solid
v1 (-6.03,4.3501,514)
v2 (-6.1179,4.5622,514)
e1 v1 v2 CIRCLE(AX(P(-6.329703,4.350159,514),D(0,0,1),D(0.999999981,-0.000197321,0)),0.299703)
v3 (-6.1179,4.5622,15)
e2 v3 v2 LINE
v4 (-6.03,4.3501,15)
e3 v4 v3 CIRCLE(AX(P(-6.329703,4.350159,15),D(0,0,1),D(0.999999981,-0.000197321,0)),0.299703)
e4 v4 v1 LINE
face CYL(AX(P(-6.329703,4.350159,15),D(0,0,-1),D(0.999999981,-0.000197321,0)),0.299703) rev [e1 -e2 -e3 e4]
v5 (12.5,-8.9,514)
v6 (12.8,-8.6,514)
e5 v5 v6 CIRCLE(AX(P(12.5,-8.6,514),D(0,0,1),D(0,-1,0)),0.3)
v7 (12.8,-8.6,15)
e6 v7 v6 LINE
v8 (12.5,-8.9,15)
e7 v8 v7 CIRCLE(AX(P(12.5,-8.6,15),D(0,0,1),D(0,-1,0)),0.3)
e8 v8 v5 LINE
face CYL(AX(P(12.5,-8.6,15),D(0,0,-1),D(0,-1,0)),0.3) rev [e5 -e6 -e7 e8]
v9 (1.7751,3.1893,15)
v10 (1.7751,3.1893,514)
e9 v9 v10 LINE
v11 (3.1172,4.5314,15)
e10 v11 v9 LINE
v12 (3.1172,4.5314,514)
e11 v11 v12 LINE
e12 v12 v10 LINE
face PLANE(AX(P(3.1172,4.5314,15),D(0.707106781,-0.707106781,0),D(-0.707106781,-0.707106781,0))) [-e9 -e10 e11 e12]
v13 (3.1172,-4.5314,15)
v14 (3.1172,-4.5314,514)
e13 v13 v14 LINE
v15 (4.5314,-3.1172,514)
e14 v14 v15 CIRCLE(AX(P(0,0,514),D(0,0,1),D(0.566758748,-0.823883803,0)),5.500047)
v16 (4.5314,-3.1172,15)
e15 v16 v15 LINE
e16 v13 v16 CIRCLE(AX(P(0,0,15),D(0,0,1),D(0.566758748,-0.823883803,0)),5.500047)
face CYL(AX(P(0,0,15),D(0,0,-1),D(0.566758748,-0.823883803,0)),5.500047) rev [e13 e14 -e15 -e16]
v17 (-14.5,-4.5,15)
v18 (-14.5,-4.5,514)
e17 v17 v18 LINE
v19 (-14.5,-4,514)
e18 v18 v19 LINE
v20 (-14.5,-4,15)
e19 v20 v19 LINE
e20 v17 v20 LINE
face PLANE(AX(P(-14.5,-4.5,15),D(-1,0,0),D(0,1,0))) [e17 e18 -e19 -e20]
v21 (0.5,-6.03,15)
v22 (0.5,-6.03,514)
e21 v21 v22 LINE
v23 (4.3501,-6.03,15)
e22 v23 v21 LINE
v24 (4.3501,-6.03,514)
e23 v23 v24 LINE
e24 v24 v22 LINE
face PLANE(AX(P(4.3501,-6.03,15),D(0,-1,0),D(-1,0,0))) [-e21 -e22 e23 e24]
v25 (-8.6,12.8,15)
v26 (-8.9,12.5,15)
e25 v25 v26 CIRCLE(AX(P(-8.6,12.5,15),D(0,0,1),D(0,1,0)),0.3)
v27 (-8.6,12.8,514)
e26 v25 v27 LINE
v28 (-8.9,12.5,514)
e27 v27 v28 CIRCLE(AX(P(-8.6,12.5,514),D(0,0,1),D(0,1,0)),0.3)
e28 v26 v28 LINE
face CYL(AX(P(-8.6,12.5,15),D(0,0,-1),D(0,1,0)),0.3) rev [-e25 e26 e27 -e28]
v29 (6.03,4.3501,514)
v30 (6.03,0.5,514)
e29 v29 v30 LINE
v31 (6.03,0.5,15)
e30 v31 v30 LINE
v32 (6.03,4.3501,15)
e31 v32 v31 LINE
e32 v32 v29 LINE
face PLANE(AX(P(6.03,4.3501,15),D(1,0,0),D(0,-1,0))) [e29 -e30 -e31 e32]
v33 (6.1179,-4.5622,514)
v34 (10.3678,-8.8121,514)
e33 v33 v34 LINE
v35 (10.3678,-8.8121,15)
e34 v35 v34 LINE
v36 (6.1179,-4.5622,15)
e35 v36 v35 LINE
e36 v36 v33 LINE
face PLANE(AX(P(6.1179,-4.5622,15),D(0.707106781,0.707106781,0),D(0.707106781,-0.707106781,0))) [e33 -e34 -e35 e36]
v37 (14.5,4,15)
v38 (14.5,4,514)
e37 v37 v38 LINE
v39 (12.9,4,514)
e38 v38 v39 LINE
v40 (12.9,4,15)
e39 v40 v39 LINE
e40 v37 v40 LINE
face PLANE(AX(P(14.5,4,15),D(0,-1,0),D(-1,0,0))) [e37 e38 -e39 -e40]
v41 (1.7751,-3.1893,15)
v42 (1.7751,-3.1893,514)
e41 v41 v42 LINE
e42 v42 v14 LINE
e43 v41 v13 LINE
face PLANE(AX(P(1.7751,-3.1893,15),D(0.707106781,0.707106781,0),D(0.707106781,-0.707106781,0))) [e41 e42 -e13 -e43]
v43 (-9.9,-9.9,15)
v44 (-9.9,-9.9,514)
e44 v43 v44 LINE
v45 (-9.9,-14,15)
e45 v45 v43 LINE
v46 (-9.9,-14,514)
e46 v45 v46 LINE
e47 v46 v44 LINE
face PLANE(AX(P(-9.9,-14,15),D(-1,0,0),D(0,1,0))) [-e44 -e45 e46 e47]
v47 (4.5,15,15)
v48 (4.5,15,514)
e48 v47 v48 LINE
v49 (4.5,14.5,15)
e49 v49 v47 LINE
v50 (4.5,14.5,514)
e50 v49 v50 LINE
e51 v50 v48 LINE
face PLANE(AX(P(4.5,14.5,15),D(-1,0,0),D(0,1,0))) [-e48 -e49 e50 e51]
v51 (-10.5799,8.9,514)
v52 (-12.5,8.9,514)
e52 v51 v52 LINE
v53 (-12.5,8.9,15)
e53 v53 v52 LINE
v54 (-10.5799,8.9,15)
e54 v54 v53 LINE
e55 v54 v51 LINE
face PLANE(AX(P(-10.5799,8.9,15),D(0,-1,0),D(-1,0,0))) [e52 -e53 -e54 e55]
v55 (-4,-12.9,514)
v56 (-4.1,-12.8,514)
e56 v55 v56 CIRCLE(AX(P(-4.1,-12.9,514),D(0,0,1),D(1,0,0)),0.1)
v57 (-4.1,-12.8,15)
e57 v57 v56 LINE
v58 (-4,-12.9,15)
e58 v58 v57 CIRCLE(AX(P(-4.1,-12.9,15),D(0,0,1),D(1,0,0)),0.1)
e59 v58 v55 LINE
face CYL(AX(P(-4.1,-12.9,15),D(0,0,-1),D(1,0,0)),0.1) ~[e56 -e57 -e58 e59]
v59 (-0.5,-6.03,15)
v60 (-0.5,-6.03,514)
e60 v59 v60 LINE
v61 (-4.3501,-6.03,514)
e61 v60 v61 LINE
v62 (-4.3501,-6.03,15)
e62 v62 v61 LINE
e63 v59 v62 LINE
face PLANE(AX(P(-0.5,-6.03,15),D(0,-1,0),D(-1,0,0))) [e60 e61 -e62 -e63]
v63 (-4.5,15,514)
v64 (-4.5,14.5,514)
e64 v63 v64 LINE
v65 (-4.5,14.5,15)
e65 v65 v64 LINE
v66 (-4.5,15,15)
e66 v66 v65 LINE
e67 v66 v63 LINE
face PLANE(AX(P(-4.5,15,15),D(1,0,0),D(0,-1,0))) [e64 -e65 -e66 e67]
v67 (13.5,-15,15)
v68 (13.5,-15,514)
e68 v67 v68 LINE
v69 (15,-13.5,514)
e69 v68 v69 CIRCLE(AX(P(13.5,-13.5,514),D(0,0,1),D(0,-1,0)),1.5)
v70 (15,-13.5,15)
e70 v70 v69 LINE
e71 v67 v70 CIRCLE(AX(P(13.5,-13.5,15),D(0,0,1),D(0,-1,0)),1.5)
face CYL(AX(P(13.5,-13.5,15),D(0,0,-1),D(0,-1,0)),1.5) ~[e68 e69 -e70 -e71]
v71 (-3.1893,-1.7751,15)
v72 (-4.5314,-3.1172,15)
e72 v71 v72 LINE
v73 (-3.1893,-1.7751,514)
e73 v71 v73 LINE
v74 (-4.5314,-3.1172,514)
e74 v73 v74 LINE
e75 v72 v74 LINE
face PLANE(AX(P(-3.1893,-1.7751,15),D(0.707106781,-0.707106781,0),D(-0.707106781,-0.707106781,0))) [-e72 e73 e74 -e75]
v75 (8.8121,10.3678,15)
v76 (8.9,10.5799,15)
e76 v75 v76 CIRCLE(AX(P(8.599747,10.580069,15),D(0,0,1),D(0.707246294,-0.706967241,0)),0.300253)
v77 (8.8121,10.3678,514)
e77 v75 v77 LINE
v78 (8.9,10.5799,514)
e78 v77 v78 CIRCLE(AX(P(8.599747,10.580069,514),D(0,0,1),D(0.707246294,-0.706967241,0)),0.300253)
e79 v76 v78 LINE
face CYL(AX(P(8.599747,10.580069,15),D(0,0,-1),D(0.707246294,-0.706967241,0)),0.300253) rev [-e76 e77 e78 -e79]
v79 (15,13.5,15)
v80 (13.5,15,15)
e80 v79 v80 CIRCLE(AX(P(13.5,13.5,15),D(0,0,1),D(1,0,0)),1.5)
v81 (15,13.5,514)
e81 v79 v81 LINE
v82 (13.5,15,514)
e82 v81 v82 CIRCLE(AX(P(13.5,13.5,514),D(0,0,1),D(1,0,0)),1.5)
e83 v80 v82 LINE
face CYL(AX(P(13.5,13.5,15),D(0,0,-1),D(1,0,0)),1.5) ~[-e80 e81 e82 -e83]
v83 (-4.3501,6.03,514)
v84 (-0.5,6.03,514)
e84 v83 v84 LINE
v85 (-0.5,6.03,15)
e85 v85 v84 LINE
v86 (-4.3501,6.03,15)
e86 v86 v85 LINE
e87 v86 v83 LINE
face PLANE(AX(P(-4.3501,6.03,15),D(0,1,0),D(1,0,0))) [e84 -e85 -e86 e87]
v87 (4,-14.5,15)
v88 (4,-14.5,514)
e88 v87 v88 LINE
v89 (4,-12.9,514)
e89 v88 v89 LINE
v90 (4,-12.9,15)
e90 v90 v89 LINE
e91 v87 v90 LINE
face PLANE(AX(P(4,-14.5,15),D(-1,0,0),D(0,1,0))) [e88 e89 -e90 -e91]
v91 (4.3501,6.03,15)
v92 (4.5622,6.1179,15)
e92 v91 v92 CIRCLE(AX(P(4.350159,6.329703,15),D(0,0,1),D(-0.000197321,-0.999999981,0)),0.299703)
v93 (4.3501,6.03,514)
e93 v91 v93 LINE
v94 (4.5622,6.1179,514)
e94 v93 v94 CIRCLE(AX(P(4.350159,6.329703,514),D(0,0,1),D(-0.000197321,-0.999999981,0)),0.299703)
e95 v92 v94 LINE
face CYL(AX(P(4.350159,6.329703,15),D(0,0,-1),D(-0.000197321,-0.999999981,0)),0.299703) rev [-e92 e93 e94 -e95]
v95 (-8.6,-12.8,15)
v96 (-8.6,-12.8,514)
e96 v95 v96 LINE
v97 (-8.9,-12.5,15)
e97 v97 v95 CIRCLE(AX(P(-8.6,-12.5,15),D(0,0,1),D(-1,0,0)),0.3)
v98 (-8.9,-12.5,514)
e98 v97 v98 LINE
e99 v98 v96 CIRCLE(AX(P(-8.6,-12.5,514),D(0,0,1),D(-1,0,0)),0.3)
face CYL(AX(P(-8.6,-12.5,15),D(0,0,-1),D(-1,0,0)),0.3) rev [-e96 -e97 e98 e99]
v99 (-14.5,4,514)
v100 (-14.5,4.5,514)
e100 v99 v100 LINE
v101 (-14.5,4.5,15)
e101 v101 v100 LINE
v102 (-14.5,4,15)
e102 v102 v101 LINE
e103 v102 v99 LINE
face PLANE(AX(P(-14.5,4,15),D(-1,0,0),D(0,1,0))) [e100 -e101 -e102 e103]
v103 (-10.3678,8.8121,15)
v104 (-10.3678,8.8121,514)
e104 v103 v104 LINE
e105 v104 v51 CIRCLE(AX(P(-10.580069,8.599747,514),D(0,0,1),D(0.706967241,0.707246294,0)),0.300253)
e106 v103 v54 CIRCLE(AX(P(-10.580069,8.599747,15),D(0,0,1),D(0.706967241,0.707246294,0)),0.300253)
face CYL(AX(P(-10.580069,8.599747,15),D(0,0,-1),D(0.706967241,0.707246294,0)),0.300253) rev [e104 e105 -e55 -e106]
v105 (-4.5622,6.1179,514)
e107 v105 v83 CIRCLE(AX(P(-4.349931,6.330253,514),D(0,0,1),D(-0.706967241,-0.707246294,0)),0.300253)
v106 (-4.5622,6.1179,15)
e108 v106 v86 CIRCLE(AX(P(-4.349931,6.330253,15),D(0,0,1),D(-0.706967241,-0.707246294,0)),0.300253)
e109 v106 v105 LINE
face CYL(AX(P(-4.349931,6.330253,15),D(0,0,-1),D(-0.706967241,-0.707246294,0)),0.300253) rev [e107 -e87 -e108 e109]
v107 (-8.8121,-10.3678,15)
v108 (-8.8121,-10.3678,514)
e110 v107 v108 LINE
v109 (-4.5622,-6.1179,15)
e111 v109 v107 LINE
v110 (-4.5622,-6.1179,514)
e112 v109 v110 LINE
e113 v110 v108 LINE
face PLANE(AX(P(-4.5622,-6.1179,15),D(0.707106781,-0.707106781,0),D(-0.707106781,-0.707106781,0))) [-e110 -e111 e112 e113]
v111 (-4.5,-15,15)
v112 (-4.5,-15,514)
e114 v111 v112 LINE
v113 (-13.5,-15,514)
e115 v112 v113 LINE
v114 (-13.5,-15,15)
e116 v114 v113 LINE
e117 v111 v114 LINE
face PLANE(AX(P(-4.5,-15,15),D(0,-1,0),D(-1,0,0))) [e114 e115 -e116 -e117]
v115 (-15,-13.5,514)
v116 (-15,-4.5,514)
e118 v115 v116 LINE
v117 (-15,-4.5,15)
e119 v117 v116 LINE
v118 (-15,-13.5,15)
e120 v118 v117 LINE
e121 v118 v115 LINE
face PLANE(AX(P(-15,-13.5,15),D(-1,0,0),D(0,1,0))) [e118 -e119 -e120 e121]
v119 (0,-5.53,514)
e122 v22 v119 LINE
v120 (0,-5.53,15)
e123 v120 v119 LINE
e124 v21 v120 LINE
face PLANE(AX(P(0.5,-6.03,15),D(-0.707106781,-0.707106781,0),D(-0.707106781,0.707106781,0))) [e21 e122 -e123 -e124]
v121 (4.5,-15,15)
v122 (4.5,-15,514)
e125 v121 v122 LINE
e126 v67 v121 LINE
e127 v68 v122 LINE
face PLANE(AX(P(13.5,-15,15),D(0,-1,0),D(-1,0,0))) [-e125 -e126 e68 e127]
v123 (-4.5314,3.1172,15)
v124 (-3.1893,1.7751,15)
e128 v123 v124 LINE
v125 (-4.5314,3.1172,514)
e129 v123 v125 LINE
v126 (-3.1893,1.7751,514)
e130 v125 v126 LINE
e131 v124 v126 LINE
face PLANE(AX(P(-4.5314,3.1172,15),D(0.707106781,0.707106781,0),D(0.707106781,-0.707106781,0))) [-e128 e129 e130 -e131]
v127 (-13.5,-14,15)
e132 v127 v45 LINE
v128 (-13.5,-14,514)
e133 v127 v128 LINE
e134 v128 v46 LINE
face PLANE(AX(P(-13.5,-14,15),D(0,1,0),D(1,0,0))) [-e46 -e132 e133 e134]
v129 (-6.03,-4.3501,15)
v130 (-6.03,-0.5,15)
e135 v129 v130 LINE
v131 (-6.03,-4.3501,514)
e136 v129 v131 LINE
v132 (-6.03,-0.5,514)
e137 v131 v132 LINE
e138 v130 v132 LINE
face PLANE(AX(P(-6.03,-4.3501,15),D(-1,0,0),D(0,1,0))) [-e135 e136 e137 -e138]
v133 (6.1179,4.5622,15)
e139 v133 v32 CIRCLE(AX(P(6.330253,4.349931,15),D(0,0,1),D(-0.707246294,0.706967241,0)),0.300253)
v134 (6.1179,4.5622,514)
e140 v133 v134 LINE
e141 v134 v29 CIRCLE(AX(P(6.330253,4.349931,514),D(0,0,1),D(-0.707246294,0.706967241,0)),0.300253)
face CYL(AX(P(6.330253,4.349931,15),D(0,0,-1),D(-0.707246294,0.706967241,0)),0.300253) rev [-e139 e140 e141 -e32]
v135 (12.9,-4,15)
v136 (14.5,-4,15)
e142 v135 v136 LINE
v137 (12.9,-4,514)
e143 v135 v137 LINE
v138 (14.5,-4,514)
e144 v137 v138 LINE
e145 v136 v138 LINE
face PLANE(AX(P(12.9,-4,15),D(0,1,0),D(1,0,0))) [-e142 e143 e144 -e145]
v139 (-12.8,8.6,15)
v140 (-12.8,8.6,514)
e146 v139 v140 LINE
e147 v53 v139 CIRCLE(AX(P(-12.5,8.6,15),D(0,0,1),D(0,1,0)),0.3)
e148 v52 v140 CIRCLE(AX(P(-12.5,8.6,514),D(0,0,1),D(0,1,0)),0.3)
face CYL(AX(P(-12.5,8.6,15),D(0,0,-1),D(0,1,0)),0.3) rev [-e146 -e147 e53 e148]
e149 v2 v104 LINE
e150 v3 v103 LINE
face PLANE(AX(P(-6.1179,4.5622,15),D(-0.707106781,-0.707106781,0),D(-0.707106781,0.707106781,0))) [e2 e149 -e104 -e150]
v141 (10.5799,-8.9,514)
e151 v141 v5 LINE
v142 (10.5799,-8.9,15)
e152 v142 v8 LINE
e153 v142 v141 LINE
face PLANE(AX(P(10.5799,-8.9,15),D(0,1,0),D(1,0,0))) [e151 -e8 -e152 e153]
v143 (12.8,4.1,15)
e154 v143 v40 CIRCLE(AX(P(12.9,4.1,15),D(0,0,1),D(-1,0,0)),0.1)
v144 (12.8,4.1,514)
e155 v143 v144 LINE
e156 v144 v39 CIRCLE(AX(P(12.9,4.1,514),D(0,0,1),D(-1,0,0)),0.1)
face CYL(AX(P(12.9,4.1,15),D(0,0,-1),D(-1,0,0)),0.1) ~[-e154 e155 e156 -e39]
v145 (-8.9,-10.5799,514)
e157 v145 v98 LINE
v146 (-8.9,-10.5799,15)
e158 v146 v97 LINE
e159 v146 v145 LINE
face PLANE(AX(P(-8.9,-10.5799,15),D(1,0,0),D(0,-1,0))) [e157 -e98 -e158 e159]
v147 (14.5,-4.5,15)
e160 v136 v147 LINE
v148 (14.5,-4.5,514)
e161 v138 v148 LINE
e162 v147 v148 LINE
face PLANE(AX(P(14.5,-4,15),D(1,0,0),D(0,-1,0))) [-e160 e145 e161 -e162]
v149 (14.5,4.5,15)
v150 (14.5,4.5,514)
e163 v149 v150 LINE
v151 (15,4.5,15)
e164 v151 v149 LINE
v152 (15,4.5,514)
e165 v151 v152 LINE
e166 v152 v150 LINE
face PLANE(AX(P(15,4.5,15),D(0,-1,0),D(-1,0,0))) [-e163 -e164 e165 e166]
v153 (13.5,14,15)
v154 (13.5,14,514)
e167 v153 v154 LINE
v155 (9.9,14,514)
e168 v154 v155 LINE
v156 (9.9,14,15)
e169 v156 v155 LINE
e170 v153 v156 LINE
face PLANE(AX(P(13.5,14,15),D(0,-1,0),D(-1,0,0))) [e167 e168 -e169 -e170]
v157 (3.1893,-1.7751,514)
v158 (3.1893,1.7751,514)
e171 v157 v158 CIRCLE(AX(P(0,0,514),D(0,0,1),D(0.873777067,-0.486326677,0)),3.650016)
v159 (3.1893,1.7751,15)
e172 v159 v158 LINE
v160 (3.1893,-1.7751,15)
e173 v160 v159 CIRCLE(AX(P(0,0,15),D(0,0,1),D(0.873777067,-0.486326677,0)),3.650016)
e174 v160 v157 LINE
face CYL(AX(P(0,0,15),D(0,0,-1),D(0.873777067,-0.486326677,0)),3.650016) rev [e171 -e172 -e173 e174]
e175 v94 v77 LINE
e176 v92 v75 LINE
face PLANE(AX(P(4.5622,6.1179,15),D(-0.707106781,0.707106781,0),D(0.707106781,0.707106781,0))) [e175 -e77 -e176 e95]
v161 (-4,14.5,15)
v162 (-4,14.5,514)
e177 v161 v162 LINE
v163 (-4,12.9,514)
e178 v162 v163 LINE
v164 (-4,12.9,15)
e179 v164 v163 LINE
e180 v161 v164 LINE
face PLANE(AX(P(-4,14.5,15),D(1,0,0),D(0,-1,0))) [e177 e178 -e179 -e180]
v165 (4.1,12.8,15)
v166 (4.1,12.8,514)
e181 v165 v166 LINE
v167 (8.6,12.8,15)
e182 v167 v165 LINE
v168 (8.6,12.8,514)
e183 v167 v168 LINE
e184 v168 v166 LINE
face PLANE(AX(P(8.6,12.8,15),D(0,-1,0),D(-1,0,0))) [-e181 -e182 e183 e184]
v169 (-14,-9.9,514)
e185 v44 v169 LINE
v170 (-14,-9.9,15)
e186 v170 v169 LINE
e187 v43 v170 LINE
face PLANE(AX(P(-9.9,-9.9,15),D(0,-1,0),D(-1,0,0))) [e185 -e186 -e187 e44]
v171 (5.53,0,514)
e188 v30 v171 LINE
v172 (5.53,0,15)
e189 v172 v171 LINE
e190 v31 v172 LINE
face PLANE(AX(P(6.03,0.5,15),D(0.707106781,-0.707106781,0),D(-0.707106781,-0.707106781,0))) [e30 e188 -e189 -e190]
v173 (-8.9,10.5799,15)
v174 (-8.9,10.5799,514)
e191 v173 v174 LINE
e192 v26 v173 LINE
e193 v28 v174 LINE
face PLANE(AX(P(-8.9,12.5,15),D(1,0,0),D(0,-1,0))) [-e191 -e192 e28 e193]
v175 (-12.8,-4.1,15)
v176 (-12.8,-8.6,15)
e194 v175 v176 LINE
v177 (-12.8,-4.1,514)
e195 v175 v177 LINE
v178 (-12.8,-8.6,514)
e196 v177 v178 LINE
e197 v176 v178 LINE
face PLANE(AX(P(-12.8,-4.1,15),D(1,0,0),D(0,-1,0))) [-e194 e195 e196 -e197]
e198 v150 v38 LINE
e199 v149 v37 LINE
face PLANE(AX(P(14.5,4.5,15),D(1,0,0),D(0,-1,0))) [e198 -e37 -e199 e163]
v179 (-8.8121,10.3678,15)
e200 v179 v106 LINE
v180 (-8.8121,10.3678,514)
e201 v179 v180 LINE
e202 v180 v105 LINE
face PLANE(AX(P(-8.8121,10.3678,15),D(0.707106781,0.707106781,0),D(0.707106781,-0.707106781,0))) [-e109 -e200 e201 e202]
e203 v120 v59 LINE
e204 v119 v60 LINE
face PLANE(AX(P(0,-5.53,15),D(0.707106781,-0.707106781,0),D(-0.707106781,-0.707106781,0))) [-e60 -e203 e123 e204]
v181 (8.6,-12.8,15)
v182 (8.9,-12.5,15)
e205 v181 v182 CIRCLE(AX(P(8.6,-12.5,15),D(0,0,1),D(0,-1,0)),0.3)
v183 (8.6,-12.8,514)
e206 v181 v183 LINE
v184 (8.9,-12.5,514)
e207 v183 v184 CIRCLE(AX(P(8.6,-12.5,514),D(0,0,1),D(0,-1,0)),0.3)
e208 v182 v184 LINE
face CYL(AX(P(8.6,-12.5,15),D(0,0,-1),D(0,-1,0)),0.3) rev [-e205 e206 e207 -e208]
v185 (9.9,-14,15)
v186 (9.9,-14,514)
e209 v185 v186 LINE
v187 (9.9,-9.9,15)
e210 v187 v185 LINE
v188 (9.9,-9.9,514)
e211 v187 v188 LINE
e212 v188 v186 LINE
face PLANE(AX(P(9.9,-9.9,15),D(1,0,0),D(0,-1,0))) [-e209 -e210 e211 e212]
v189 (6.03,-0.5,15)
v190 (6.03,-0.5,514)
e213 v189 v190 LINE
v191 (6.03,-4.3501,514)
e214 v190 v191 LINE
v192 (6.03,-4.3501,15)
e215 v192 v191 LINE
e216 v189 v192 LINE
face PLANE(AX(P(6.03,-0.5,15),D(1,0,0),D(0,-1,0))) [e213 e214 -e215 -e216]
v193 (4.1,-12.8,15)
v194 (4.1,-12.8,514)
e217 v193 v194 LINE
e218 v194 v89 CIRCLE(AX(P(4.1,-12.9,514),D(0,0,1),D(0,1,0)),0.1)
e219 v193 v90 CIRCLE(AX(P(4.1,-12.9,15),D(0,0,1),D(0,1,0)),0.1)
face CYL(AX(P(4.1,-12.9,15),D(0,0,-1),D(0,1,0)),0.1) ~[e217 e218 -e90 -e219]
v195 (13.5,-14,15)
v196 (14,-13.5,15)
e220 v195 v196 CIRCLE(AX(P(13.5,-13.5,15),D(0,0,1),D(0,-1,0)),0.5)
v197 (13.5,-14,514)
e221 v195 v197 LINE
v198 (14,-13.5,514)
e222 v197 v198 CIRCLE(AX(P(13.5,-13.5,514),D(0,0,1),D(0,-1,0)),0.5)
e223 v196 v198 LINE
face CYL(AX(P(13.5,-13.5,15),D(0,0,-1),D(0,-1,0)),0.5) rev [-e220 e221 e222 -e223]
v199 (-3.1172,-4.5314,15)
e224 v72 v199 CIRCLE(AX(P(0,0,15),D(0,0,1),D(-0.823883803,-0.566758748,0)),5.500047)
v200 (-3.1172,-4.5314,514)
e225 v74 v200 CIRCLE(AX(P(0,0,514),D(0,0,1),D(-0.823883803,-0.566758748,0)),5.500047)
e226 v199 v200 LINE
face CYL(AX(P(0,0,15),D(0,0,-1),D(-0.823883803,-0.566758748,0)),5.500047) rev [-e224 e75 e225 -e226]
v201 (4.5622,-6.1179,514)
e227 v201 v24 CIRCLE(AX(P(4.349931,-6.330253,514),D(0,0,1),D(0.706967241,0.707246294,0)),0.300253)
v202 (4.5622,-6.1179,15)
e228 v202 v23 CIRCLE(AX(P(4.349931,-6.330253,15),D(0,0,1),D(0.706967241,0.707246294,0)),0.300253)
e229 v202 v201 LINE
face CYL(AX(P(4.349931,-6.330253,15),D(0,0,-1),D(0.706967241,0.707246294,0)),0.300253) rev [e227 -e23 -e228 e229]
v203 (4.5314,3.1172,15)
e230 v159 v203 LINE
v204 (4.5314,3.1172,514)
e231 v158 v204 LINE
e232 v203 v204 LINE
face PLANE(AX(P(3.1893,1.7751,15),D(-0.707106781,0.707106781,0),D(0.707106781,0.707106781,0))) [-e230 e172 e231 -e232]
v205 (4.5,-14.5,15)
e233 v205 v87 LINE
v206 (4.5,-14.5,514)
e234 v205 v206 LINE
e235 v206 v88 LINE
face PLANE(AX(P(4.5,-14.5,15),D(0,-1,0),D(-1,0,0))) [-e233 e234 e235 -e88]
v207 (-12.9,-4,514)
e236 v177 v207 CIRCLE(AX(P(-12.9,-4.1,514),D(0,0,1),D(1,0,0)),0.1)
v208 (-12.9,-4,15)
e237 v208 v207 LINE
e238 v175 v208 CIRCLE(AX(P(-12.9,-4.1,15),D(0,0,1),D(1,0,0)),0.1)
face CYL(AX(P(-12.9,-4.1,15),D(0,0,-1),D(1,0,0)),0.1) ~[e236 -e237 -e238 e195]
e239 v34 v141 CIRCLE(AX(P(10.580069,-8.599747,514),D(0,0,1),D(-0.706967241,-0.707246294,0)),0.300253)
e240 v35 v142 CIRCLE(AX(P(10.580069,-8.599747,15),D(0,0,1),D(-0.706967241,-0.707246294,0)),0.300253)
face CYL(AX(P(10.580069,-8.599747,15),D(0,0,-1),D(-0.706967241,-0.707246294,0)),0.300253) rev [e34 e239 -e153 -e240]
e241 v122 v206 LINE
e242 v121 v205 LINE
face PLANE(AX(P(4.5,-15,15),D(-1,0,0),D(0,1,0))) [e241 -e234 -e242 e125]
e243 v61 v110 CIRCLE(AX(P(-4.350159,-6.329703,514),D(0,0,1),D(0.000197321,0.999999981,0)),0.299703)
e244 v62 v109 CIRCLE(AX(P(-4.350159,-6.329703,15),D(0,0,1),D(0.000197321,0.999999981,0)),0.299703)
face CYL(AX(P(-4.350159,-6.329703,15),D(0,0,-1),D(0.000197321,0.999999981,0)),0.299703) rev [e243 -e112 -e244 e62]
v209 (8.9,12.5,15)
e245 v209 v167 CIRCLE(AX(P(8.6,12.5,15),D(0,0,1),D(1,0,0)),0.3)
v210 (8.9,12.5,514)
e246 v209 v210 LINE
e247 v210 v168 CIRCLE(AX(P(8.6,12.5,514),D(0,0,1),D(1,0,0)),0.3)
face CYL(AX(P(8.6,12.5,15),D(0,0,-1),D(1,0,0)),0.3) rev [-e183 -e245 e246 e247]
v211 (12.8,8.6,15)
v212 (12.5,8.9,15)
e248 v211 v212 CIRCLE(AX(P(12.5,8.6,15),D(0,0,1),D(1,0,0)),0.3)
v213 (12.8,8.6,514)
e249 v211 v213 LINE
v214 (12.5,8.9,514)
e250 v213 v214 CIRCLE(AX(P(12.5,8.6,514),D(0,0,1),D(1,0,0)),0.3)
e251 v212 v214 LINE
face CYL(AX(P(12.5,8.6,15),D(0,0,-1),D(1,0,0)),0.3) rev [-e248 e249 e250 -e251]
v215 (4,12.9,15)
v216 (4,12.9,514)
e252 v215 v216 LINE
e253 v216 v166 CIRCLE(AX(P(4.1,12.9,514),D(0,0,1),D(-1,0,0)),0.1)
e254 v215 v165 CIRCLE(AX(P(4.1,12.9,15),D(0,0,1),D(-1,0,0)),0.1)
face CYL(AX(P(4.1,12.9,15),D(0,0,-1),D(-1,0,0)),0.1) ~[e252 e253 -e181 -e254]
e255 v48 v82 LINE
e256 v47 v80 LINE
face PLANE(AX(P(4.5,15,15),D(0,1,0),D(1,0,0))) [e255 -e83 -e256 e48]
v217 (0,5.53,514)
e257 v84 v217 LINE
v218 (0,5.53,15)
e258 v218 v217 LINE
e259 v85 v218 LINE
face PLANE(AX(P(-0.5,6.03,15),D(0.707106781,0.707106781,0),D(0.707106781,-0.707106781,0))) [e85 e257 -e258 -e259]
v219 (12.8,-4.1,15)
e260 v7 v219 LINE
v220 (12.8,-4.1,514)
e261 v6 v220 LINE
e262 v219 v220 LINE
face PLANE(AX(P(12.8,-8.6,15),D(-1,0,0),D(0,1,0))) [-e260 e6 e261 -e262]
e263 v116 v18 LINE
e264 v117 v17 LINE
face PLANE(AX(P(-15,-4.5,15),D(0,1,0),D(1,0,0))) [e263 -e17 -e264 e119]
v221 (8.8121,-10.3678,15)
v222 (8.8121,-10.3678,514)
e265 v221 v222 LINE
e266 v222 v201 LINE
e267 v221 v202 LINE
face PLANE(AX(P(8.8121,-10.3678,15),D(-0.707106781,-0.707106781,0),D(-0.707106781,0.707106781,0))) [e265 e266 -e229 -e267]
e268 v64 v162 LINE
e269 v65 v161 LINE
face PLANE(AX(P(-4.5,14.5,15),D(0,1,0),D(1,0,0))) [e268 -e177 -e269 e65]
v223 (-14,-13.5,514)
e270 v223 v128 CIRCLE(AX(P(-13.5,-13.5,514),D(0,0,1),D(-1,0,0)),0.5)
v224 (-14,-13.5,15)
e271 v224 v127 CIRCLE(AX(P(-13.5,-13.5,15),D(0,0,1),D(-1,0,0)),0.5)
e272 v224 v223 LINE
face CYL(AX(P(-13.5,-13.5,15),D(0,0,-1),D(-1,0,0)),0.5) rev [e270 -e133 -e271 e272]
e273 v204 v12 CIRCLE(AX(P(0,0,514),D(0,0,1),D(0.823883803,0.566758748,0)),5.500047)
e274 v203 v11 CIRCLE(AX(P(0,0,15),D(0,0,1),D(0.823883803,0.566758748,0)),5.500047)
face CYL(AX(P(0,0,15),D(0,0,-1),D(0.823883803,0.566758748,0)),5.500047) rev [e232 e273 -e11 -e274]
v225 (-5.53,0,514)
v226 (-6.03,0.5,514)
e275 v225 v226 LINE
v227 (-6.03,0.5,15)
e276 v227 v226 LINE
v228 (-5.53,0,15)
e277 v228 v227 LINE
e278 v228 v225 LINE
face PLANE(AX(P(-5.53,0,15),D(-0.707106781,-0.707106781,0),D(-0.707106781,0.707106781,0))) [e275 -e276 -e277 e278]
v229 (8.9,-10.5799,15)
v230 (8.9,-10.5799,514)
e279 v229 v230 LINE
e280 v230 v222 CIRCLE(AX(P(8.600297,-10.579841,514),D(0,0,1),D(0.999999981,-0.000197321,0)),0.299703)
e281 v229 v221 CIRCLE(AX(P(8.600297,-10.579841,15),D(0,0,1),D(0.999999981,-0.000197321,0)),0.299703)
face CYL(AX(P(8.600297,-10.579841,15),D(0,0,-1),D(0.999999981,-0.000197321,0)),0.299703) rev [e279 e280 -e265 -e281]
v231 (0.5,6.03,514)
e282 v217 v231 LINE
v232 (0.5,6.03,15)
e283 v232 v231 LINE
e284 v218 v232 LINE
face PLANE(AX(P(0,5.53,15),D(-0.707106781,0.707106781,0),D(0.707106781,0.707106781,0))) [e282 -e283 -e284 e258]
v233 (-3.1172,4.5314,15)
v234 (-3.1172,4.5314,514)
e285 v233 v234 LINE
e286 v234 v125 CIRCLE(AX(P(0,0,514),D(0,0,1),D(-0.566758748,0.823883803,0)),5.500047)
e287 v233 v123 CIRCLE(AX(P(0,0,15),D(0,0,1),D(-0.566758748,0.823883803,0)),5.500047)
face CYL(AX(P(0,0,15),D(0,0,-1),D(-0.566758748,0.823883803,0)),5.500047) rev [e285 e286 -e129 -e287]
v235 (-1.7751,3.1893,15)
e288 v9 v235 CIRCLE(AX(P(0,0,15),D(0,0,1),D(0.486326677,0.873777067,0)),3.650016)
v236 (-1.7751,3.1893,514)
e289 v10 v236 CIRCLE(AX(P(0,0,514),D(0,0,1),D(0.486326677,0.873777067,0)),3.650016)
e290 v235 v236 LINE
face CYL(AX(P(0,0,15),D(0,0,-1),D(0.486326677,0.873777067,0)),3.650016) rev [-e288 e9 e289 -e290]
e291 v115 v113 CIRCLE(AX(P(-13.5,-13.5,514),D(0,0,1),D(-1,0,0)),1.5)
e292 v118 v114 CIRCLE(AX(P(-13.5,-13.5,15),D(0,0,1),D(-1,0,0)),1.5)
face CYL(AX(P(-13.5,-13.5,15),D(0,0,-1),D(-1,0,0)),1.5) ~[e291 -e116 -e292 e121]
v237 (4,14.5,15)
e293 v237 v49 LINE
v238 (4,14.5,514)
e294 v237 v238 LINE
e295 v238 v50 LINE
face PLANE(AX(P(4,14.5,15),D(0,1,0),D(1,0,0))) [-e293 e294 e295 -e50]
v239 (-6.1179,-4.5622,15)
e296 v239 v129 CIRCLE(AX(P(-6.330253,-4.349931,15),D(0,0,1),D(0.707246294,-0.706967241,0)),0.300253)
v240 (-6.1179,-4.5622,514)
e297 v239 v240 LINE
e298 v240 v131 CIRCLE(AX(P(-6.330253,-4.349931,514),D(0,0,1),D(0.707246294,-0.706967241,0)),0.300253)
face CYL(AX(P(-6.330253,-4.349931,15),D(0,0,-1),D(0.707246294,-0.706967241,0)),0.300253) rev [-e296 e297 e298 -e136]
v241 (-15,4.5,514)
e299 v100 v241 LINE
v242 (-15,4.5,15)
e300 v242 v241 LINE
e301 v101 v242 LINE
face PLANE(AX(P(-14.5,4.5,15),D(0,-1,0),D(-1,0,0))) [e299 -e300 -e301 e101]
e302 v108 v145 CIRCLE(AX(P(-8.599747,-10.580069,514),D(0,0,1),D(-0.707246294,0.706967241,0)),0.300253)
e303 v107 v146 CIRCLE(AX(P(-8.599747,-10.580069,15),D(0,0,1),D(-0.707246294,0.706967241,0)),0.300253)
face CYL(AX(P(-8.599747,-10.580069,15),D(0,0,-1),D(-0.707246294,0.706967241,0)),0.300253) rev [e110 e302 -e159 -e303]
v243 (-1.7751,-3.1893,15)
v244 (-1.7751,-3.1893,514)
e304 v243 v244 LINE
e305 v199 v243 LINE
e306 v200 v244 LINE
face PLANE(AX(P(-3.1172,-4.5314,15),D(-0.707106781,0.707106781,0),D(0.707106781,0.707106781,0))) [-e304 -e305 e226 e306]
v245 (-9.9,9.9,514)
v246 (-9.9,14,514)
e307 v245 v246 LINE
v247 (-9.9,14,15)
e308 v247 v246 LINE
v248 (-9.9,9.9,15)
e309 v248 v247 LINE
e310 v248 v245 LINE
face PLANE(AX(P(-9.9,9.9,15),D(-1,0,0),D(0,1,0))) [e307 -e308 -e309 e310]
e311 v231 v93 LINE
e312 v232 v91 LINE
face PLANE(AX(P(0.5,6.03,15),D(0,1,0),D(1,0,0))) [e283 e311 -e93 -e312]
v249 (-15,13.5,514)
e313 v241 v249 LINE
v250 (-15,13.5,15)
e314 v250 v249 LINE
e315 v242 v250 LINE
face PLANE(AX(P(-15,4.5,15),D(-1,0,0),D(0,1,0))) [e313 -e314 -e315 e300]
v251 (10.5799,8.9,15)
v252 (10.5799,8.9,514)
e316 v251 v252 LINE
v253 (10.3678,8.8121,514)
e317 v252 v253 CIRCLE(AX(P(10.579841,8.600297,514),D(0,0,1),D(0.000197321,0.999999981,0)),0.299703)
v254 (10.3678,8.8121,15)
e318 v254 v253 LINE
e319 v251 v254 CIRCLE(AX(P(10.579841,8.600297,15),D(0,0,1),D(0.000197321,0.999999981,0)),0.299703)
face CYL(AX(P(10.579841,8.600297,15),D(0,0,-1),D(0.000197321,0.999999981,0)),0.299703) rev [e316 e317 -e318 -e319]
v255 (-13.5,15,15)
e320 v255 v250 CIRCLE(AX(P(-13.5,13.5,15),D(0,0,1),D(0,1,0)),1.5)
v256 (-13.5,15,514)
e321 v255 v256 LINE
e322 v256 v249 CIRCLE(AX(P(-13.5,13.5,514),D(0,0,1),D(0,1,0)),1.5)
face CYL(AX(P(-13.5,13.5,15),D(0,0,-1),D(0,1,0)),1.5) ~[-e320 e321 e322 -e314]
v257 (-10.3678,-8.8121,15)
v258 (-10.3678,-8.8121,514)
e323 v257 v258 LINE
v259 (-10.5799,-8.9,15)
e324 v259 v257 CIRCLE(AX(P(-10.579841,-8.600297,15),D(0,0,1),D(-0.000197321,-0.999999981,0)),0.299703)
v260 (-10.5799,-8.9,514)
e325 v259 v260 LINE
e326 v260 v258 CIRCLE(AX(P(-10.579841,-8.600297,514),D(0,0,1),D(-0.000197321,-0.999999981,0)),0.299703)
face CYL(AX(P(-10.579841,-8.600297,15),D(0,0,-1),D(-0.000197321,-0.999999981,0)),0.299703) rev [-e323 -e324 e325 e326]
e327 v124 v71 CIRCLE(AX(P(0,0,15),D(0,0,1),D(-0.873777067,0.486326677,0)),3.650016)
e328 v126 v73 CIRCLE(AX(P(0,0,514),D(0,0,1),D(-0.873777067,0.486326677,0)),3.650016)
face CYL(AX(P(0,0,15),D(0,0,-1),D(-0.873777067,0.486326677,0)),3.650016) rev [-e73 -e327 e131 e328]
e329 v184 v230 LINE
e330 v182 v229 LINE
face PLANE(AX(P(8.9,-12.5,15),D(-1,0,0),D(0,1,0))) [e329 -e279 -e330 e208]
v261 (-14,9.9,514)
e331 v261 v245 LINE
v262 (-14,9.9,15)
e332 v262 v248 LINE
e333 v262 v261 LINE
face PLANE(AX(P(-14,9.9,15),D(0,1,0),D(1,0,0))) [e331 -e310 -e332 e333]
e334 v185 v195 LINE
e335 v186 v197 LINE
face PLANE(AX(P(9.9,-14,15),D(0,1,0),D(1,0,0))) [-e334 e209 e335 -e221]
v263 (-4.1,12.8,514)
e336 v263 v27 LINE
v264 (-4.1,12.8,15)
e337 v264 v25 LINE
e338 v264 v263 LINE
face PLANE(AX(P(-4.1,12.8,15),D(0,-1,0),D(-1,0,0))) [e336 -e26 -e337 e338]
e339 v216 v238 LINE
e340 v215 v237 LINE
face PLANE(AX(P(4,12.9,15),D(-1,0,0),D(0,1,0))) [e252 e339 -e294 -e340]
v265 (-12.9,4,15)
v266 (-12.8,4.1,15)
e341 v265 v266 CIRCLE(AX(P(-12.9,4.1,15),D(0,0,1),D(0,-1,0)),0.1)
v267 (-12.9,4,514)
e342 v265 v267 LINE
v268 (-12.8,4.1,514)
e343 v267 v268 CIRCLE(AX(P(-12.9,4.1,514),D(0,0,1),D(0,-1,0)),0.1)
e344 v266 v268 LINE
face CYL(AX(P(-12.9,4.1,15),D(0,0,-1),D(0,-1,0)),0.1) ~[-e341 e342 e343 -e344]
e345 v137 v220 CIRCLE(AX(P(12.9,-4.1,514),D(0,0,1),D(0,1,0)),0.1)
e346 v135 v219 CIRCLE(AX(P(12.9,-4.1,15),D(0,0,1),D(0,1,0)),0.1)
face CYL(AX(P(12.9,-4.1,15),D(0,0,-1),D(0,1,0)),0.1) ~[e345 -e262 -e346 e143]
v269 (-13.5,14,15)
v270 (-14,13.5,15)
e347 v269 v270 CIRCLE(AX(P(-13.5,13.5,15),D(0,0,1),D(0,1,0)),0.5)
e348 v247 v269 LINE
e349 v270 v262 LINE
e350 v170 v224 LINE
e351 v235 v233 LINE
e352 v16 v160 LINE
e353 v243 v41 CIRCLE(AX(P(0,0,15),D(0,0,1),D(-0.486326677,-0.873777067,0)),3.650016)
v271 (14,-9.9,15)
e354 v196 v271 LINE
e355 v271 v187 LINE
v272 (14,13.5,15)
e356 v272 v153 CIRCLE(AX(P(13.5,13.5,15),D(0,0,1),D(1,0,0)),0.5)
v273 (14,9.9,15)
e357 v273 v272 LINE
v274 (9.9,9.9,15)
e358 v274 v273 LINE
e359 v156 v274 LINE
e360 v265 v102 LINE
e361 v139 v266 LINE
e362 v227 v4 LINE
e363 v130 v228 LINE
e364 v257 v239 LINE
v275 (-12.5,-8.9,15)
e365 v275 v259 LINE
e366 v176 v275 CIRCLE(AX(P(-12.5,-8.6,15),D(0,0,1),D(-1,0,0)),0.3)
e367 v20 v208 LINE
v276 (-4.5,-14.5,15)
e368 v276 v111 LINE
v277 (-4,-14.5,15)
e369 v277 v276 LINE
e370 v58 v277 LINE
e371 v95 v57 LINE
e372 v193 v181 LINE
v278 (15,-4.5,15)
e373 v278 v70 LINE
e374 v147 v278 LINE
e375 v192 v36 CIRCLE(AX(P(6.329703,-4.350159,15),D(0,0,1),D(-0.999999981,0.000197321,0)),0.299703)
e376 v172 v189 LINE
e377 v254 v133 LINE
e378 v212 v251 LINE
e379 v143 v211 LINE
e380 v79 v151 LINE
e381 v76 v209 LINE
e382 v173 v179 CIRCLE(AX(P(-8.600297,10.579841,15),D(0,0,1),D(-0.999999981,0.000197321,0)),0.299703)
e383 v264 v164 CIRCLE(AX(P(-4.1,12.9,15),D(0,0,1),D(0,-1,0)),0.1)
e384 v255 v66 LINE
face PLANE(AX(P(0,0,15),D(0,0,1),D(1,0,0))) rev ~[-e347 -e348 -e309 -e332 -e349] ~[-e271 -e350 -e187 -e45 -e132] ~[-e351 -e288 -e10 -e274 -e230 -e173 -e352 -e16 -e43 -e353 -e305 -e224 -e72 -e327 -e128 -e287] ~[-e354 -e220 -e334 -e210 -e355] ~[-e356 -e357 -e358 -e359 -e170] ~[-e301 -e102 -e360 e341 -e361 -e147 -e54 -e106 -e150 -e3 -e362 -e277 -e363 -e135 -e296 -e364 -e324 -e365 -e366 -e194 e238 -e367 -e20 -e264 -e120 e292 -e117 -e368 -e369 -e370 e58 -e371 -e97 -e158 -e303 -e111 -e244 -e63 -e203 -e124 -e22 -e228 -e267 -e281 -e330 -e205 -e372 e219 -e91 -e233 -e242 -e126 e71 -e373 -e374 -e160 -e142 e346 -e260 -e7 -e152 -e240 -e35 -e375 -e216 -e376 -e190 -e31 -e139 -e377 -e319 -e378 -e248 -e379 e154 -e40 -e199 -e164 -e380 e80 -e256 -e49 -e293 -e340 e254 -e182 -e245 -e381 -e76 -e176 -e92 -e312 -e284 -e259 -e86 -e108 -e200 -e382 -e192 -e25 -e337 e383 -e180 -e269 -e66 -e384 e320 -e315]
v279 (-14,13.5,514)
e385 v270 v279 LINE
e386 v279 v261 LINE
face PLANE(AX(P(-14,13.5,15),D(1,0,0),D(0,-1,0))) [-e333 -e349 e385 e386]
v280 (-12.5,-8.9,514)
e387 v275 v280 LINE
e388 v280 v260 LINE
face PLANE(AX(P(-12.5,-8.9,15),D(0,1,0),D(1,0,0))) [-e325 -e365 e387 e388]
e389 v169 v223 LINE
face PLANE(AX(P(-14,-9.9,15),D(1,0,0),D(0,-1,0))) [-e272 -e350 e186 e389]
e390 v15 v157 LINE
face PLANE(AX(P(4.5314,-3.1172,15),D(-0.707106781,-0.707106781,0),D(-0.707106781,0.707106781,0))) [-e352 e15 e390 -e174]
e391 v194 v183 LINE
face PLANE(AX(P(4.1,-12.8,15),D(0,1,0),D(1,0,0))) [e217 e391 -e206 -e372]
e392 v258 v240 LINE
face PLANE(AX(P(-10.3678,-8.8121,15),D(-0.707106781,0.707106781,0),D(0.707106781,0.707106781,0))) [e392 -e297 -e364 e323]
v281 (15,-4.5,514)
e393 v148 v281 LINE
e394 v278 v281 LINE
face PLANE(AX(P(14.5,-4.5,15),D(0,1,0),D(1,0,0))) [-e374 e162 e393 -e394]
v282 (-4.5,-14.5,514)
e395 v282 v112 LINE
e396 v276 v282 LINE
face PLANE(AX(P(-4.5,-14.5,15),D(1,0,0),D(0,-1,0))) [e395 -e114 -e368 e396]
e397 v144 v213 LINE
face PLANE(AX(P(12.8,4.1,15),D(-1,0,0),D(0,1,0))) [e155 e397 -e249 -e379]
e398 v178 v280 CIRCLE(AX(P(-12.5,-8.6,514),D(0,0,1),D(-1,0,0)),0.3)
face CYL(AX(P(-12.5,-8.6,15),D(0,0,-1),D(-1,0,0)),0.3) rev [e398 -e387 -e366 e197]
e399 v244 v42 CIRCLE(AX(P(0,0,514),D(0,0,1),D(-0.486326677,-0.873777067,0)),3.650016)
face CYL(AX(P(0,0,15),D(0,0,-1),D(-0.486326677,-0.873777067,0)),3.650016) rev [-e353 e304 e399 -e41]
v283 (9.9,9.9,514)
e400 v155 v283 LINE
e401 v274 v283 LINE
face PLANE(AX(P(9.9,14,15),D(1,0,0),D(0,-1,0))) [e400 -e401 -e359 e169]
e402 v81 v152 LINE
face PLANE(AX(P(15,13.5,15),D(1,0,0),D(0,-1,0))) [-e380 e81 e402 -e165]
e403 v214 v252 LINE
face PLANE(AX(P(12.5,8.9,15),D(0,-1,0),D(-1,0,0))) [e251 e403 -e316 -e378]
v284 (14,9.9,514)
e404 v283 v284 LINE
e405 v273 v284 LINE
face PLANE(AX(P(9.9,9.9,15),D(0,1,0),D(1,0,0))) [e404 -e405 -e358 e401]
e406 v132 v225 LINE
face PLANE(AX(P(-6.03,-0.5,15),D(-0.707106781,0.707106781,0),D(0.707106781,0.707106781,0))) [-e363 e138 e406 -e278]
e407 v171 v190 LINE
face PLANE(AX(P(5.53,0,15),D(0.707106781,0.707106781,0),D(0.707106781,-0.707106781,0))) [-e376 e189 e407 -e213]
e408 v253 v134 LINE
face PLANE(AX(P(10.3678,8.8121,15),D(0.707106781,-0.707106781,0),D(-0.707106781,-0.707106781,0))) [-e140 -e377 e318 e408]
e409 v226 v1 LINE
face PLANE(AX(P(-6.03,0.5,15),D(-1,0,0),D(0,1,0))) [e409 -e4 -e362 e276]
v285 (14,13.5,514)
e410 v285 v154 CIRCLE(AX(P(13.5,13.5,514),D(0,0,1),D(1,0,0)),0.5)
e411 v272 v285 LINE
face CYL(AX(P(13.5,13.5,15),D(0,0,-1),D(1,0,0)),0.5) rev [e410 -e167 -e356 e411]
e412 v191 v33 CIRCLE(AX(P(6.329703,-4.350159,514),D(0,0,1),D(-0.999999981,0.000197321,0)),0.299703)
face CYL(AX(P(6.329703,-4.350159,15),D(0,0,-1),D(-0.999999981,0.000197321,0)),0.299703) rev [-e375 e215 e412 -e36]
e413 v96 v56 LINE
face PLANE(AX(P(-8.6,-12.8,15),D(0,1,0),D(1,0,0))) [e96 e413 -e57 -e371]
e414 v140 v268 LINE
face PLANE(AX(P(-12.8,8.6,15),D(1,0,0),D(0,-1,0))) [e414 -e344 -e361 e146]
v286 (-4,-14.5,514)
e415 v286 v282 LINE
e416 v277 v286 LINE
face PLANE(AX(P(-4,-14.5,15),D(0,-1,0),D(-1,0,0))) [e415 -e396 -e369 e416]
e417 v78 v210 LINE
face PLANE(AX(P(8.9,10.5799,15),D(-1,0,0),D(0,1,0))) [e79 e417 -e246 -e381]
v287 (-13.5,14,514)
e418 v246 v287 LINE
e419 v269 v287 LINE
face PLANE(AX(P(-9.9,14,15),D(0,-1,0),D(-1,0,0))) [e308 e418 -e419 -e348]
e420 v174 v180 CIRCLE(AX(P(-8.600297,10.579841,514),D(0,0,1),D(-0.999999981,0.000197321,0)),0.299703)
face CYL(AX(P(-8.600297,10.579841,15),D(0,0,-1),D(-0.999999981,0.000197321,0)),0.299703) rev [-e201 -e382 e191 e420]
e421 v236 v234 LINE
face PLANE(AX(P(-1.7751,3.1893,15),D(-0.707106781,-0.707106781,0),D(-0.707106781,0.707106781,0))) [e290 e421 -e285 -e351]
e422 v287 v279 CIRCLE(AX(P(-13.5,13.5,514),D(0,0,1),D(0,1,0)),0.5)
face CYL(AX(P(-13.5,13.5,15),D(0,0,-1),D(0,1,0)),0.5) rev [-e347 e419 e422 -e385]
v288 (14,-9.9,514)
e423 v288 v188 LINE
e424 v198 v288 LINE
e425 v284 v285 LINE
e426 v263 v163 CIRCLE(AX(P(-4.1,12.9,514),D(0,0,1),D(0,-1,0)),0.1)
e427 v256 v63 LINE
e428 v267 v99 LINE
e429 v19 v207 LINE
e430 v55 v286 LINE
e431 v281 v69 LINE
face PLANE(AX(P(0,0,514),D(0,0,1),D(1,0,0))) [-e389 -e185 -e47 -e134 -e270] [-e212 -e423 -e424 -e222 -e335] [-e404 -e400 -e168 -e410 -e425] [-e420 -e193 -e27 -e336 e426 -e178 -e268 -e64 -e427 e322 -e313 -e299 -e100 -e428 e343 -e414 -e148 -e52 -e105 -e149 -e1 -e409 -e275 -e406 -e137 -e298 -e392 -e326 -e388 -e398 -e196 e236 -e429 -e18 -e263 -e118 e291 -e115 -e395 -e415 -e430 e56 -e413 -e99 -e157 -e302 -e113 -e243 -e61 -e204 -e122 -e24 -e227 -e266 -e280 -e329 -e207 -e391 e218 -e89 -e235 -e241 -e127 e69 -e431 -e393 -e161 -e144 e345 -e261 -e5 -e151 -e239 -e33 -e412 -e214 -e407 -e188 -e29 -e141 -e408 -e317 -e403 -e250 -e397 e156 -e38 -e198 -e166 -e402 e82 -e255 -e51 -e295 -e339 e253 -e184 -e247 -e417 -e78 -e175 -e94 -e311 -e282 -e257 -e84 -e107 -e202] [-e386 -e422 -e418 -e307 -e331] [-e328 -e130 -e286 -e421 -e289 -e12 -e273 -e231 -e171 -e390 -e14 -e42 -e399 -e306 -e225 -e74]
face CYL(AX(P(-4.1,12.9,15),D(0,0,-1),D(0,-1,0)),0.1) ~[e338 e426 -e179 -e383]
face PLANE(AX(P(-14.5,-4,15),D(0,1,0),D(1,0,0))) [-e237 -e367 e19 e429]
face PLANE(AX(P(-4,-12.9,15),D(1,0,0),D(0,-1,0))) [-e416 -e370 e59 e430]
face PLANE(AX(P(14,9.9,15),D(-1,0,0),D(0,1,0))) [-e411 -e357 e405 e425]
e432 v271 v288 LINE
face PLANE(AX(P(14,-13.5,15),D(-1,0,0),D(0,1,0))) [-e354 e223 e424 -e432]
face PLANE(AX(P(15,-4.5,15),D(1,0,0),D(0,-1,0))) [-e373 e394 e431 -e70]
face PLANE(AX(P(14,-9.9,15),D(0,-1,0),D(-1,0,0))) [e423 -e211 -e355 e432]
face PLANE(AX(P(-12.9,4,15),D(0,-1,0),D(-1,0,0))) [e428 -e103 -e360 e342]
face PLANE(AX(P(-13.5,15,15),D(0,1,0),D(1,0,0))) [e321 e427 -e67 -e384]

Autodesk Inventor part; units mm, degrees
ref_plane "Płaszczyzna początkowa" through (0, 0, 15) normal (0, 0, 1) x (1, 0, 0)
ref_plane "Płaszczyzna końcowa" through (0, 0, 514) normal (0, 0, 1) x (1, 0, 0)
sketch "Szkic" plane through (0, 0, 0) normal (0, 0, 1) x (1, 0, 0)
  line L0 (1.7751, -3.1893) -> (3.1172, -4.5314)
  arc A0 (-1.7751, -3.1893) -> (1.7751, -3.1893) centre (0, 0) ccw
  line L1 (-3.1172, -4.5314) -> (-1.7751, -3.1893)
  arc A1 (-4.5314, -3.1172) -> (-3.1172, -4.5314) centre (0, 0) ccw
  line L2 (-3.1893, -1.7751) -> (-4.5314, -3.1172)
  arc A2 (-3.1893, 1.7751) -> (-3.1893, -1.7751) centre (0, 0) ccw
  line L3 (-4.5314, 3.1172) -> (-3.1893, 1.7751)
  arc A3 (-3.1172, 4.5314) -> (-4.5314, 3.1172) centre (0, 0) ccw
  line L4 (-1.7751, 3.1893) -> (-3.1172, 4.5314)
  arc A4 (1.7751, 3.1893) -> (-1.7751, 3.1893) centre (0, 0) ccw
  line L5 (3.1172, 4.5314) -> (1.7751, 3.1893)
  arc A5 (4.5314, 3.1172) -> (3.1172, 4.5314) centre (0, 0) ccw
  line L6 (3.1893, 1.7751) -> (4.5314, 3.1172)
  arc A6 (3.1893, -1.7751) -> (3.1893, 1.7751) centre (0, 0) ccw
  line L7 (4.5314, -3.1172) -> (3.1893, -1.7751)
  arc A7 (3.1172, -4.5314) -> (4.5314, -3.1172) centre (0, 0) ccw
  line L8 (14, -13.5) -> (14, -9.9)
  arc A8 (13.5, -14) -> (14, -13.5) centre (13.5, -13.5) ccw
  line L9 (9.9, -14) -> (13.5, -14)
  line L10 (9.9, -9.9) -> (9.9, -14)
  line L11 (14, -9.9) -> (9.9, -9.9)
  line L12 (-9.9, -9.9) -> (-14, -9.9)
  line L13 (-9.9, -14) -> (-9.9, -9.9)
  line L14 (-13.5, -14) -> (-9.9, -14)
  arc A9 (-14, -13.5) -> (-13.5, -14) centre (-13.5, -13.5) ccw
  line L15 (-14, -9.9) -> (-14, -13.5)
  line L16 (14, 9.9) -> (14, 13.5)
  line L17 (9.9, 9.9) -> (14, 9.9)
  line L18 (9.9, 14) -> (9.9, 9.9)
  line L19 (13.5, 14) -> (9.9, 14)
  arc A10 (14, 13.5) -> (13.5, 14) centre (13.5, 13.5) ccw
  line L20 (-14, 9.9) -> (-9.9, 9.9)
  line L21 (-14, 13.5) -> (-14, 9.9)
  arc A11 (-13.5, 14) -> (-14, 13.5) centre (-13.5, 13.5) ccw
  line L22 (-9.9, 14) -> (-13.5, 14)
  line L23 (-9.9, 9.9) -> (-9.9, 14)
  line L24 (13.5, -15) -> (4.5, -15)
  arc A12 (13.5, -15) -> (15, -13.5) centre (13.5, -13.5) ccw
  line L25 (15, -4.5) -> (15, -13.5)
  line L26 (14.5, -4.5) -> (15, -4.5)
  line L27 (14.5, -4) -> (14.5, -4.5)
  line L28 (12.9, -4) -> (14.5, -4)
  arc A13 (12.9, -4) -> (12.8, -4.1) centre (12.9, -4.1) ccw
  line L29 (12.8, -8.6) -> (12.8, -4.1)
  arc A14 (12.5, -8.9) -> (12.8, -8.6) centre (12.5, -8.6) ccw
  line L30 (10.5799, -8.9) -> (12.5, -8.9)
  arc A15 (10.3678, -8.8121) -> (10.5799, -8.9) centre (10.5799, -8.6) ccw
  line L31 (6.1179, -4.5622) -> (10.3678, -8.8121)
  arc A16 (6.03, -4.3501) -> (6.1179, -4.5622) centre (6.33, -4.3501) ccw
  line L32 (6.03, -0.5) -> (6.03, -4.3501)
  line L33 (5.53, 0) -> (6.03, -0.5)
  line L34 (6.03, 0.5) -> (5.53, 0)
  line L35 (6.03, 4.3501) -> (6.03, 0.5)
  arc A17 (6.1179, 4.5622) -> (6.03, 4.3501) centre (6.33, 4.3501) ccw
  line L36 (10.3678, 8.8121) -> (6.1179, 4.5622)
  arc A18 (10.5799, 8.9) -> (10.3678, 8.8121) centre (10.5799, 8.6) ccw
  line L37 (12.5, 8.9) -> (10.5799, 8.9)
  arc A19 (12.8, 8.6) -> (12.5, 8.9) centre (12.5, 8.6) ccw
  line L38 (12.8, 4.1) -> (12.8, 8.6)
  arc A20 (12.8, 4.1) -> (12.9, 4) centre (12.9, 4.1) ccw
  line L39 (14.5, 4) -> (12.9, 4)
  line L40 (14.5, 4.5) -> (14.5, 4)
  line L41 (15, 4.5) -> (14.5, 4.5)
  line L42 (15, 13.5) -> (15, 4.5)
  arc A21 (15, 13.5) -> (13.5, 15) centre (13.5, 13.5) ccw
  line L43 (4.5, 15) -> (13.5, 15)
  line L44 (4.5, 14.5) -> (4.5, 15)
  line L45 (4, 14.5) -> (4.5, 14.5)
  line L46 (4, 12.9) -> (4, 14.5)
  arc A22 (4, 12.9) -> (4.1, 12.8) centre (4.1, 12.9) ccw
  line L47 (8.6, 12.8) -> (4.1, 12.8)
  arc A23 (8.9, 12.5) -> (8.6, 12.8) centre (8.6, 12.5) ccw
  line L48 (8.9, 10.5799) -> (8.9, 12.5)
  arc A24 (8.8121, 10.3678) -> (8.9, 10.5799) centre (8.6, 10.5799) ccw
  line L49 (4.5622, 6.1179) -> (8.8121, 10.3678)
  arc A25 (4.3501, 6.03) -> (4.5622, 6.1179) centre (4.3501, 6.33) ccw
  line L50 (0.5, 6.03) -> (4.3501, 6.03)
  line L51 (0, 5.53) -> (0.5, 6.03)
  line L52 (-0.5, 6.03) -> (0, 5.53)
  line L53 (-4.3501, 6.03) -> (-0.5, 6.03)
  arc A26 (-4.5622, 6.1179) -> (-4.3501, 6.03) centre (-4.3501, 6.33) ccw
  line L54 (-8.8121, 10.3678) -> (-4.5622, 6.1179)
  arc A27 (-8.9, 10.5799) -> (-8.8121, 10.3678) centre (-8.6, 10.5799) ccw
  line L55 (-8.9, 12.5) -> (-8.9, 10.5799)
  arc A28 (-8.6, 12.8) -> (-8.9, 12.5) centre (-8.6, 12.5) ccw
  line L56 (-4.1, 12.8) -> (-8.6, 12.8)
  arc A29 (-4.1, 12.8) -> (-4, 12.9) centre (-4.1, 12.9) ccw
  line L57 (-4, 14.5) -> (-4, 12.9)
  line L58 (-4.5, 14.5) -> (-4, 14.5)
  line L59 (-4.5, 15) -> (-4.5, 14.5)
  line L60 (-13.5, 15) -> (-4.5, 15)
  arc A30 (-13.5, 15) -> (-15, 13.5) centre (-13.5, 13.5) ccw
  line L61 (-15, 4.5) -> (-15, 13.5)
  line L62 (-14.5, 4.5) -> (-15, 4.5)
  line L63 (-14.5, 4) -> (-14.5, 4.5)
  line L64 (-12.9, 4) -> (-14.5, 4)
  arc A31 (-12.9, 4) -> (-12.8, 4.1) centre (-12.9, 4.1) ccw
  line L65 (-12.8, 8.6) -> (-12.8, 4.1)
  arc A32 (-12.5, 8.9) -> (-12.8, 8.6) centre (-12.5, 8.6) ccw
  line L66 (-10.5799, 8.9) -> (-12.5, 8.9)
  arc A33 (-10.3678, 8.8121) -> (-10.5799, 8.9) centre (-10.5799, 8.6) ccw
  line L67 (-6.1179, 4.5622) -> (-10.3678, 8.8121)
  arc A34 (-6.03, 4.3501) -> (-6.1179, 4.5622) centre (-6.33, 4.3501) ccw
  line L68 (-6.03, 0.5) -> (-6.03, 4.3501)
  line L69 (-5.53, 0) -> (-6.03, 0.5)
  line L70 (-6.03, -0.5) -> (-5.53, 0)
  line L71 (-6.03, -4.3501) -> (-6.03, -0.5)
  arc A35 (-6.1179, -4.5622) -> (-6.03, -4.3501) centre (-6.33, -4.3501) ccw
  line L72 (-10.3678, -8.8121) -> (-6.1179, -4.5622)
  arc A36 (-10.5799, -8.9) -> (-10.3678, -8.8121) centre (-10.5799, -8.6) ccw
  line L73 (-12.5, -8.9) -> (-10.5799, -8.9)
  arc A37 (-12.8, -8.6) -> (-12.5, -8.9) centre (-12.5, -8.6) ccw
  line L74 (-12.8, -4.1) -> (-12.8, -8.6)
  arc A38 (-12.8, -4.1) -> (-12.9, -4) centre (-12.9, -4.1) ccw
  line L75 (-14.5, -4) -> (-12.9, -4)
  line L76 (-14.5, -4.5) -> (-14.5, -4)
  line L77 (-15, -4.5) -> (-14.5, -4.5)
  line L78 (-15, -13.5) -> (-15, -4.5)
  arc A39 (-15, -13.5) -> (-13.5, -15) centre (-13.5, -13.5) ccw
  line L79 (-4.5, -15) -> (-13.5, -15)
  line L80 (-4.5, -14.5) -> (-4.5, -15)
  line L81 (-4, -14.5) -> (-4.5, -14.5)
  line L82 (-4, -12.9) -> (-4, -14.5)
  arc A40 (-4, -12.9) -> (-4.1, -12.8) centre (-4.1, -12.9) ccw
  line L83 (-8.6, -12.8) -> (-4.1, -12.8)
  arc A41 (-8.9, -12.5) -> (-8.6, -12.8) centre (-8.6, -12.5) ccw
  line L84 (-8.9, -10.5799) -> (-8.9, -12.5)
  arc A42 (-8.8121, -10.3678) -> (-8.9, -10.5799) centre (-8.6, -10.5799) ccw
  line L85 (-4.5622, -6.1179) -> (-8.8121, -10.3678)
  arc A43 (-4.3501, -6.03) -> (-4.5622, -6.1179) centre (-4.3501, -6.33) ccw
  line L86 (-0.5, -6.03) -> (-4.3501, -6.03)
  line L87 (0, -5.53) -> (-0.5, -6.03)
  line L88 (0.5, -6.03) -> (0, -5.53)
  line L89 (4.3501, -6.03) -> (0.5, -6.03)
  arc A44 (4.5622, -6.1179) -> (4.3501, -6.03) centre (4.3501, -6.33) ccw
  line L90 (8.8121, -10.3678) -> (4.5622, -6.1179)
  arc A45 (8.9, -10.5799) -> (8.8121, -10.3678) centre (8.6, -10.5799) ccw
  line L91 (8.9, -12.5) -> (8.9, -10.5799)
  arc A46 (8.6, -12.8) -> (8.9, -12.5) centre (8.6, -12.5) ccw
  line L92 (4.1, -12.8) -> (8.6, -12.8)
  arc A47 (4.1, -12.8) -> (4, -12.9) centre (4.1, -12.9) ccw
  line L93 (4, -14.5) -> (4, -12.9)
  line L94 (4.5, -14.5) -> (4, -14.5)
  line L95 (4.5, -15) -> (4.5, -14.5)
  point P0 (15, -15)
extrude "Bryła" add sketch "Szkic" along normal up to surface (499 mm away) from surface at 15
sketch "Szkic2" plane through (0, 0, 0) normal (0, 0, 1) x (1, 0, 0)
  line L0 (0, 0) -> (10, 0)
ref_plane "Płaszczyzna konstrukcyjna3" through (0, 0, 0) normal (0, -1, 0) x (1, 0, 0)
sketch "Szkic3" plane through (0, 0, 0) normal (0, -1, 0) x (1, 0, 0)
  line L0 (-2, 15) -> (12, 15)
  line L1 (-2, 514) -> (12, 514)
  dimension "d7" = 499
ref_plane "Płaszczyzna konstrukcyjna4" through (-13.5, -530, 15) normal (0, 0, -1) x (-1, 0, 0)
split "Podział1" plane through (-13.5, -530, 15) removes the side toward (0, 0, -1)
ref_plane "Płaszczyzna konstrukcyjna5" through (-4.5, -545, 514) normal (0, 0, 1) x (1, 0, 0)
split "Podział2" plane through (-4.5, -545, 514) removes the side toward (0, 0, 1)
equation "\"G_OFFSET_START\" = -15"
equation "\"G_OFFSET_END\" = -15"
equation "\"d2\" = -G_OFFSET_START"
equation "\"d3\" = Length + G_OFFSET_END"
equation "\"G_L\" = d7"
equation "\"Length\" = 529"
properties part number "COTS_ARMA_AR3703_30x30_Alu_Extr_00000015" material "Aluminium 6061"
